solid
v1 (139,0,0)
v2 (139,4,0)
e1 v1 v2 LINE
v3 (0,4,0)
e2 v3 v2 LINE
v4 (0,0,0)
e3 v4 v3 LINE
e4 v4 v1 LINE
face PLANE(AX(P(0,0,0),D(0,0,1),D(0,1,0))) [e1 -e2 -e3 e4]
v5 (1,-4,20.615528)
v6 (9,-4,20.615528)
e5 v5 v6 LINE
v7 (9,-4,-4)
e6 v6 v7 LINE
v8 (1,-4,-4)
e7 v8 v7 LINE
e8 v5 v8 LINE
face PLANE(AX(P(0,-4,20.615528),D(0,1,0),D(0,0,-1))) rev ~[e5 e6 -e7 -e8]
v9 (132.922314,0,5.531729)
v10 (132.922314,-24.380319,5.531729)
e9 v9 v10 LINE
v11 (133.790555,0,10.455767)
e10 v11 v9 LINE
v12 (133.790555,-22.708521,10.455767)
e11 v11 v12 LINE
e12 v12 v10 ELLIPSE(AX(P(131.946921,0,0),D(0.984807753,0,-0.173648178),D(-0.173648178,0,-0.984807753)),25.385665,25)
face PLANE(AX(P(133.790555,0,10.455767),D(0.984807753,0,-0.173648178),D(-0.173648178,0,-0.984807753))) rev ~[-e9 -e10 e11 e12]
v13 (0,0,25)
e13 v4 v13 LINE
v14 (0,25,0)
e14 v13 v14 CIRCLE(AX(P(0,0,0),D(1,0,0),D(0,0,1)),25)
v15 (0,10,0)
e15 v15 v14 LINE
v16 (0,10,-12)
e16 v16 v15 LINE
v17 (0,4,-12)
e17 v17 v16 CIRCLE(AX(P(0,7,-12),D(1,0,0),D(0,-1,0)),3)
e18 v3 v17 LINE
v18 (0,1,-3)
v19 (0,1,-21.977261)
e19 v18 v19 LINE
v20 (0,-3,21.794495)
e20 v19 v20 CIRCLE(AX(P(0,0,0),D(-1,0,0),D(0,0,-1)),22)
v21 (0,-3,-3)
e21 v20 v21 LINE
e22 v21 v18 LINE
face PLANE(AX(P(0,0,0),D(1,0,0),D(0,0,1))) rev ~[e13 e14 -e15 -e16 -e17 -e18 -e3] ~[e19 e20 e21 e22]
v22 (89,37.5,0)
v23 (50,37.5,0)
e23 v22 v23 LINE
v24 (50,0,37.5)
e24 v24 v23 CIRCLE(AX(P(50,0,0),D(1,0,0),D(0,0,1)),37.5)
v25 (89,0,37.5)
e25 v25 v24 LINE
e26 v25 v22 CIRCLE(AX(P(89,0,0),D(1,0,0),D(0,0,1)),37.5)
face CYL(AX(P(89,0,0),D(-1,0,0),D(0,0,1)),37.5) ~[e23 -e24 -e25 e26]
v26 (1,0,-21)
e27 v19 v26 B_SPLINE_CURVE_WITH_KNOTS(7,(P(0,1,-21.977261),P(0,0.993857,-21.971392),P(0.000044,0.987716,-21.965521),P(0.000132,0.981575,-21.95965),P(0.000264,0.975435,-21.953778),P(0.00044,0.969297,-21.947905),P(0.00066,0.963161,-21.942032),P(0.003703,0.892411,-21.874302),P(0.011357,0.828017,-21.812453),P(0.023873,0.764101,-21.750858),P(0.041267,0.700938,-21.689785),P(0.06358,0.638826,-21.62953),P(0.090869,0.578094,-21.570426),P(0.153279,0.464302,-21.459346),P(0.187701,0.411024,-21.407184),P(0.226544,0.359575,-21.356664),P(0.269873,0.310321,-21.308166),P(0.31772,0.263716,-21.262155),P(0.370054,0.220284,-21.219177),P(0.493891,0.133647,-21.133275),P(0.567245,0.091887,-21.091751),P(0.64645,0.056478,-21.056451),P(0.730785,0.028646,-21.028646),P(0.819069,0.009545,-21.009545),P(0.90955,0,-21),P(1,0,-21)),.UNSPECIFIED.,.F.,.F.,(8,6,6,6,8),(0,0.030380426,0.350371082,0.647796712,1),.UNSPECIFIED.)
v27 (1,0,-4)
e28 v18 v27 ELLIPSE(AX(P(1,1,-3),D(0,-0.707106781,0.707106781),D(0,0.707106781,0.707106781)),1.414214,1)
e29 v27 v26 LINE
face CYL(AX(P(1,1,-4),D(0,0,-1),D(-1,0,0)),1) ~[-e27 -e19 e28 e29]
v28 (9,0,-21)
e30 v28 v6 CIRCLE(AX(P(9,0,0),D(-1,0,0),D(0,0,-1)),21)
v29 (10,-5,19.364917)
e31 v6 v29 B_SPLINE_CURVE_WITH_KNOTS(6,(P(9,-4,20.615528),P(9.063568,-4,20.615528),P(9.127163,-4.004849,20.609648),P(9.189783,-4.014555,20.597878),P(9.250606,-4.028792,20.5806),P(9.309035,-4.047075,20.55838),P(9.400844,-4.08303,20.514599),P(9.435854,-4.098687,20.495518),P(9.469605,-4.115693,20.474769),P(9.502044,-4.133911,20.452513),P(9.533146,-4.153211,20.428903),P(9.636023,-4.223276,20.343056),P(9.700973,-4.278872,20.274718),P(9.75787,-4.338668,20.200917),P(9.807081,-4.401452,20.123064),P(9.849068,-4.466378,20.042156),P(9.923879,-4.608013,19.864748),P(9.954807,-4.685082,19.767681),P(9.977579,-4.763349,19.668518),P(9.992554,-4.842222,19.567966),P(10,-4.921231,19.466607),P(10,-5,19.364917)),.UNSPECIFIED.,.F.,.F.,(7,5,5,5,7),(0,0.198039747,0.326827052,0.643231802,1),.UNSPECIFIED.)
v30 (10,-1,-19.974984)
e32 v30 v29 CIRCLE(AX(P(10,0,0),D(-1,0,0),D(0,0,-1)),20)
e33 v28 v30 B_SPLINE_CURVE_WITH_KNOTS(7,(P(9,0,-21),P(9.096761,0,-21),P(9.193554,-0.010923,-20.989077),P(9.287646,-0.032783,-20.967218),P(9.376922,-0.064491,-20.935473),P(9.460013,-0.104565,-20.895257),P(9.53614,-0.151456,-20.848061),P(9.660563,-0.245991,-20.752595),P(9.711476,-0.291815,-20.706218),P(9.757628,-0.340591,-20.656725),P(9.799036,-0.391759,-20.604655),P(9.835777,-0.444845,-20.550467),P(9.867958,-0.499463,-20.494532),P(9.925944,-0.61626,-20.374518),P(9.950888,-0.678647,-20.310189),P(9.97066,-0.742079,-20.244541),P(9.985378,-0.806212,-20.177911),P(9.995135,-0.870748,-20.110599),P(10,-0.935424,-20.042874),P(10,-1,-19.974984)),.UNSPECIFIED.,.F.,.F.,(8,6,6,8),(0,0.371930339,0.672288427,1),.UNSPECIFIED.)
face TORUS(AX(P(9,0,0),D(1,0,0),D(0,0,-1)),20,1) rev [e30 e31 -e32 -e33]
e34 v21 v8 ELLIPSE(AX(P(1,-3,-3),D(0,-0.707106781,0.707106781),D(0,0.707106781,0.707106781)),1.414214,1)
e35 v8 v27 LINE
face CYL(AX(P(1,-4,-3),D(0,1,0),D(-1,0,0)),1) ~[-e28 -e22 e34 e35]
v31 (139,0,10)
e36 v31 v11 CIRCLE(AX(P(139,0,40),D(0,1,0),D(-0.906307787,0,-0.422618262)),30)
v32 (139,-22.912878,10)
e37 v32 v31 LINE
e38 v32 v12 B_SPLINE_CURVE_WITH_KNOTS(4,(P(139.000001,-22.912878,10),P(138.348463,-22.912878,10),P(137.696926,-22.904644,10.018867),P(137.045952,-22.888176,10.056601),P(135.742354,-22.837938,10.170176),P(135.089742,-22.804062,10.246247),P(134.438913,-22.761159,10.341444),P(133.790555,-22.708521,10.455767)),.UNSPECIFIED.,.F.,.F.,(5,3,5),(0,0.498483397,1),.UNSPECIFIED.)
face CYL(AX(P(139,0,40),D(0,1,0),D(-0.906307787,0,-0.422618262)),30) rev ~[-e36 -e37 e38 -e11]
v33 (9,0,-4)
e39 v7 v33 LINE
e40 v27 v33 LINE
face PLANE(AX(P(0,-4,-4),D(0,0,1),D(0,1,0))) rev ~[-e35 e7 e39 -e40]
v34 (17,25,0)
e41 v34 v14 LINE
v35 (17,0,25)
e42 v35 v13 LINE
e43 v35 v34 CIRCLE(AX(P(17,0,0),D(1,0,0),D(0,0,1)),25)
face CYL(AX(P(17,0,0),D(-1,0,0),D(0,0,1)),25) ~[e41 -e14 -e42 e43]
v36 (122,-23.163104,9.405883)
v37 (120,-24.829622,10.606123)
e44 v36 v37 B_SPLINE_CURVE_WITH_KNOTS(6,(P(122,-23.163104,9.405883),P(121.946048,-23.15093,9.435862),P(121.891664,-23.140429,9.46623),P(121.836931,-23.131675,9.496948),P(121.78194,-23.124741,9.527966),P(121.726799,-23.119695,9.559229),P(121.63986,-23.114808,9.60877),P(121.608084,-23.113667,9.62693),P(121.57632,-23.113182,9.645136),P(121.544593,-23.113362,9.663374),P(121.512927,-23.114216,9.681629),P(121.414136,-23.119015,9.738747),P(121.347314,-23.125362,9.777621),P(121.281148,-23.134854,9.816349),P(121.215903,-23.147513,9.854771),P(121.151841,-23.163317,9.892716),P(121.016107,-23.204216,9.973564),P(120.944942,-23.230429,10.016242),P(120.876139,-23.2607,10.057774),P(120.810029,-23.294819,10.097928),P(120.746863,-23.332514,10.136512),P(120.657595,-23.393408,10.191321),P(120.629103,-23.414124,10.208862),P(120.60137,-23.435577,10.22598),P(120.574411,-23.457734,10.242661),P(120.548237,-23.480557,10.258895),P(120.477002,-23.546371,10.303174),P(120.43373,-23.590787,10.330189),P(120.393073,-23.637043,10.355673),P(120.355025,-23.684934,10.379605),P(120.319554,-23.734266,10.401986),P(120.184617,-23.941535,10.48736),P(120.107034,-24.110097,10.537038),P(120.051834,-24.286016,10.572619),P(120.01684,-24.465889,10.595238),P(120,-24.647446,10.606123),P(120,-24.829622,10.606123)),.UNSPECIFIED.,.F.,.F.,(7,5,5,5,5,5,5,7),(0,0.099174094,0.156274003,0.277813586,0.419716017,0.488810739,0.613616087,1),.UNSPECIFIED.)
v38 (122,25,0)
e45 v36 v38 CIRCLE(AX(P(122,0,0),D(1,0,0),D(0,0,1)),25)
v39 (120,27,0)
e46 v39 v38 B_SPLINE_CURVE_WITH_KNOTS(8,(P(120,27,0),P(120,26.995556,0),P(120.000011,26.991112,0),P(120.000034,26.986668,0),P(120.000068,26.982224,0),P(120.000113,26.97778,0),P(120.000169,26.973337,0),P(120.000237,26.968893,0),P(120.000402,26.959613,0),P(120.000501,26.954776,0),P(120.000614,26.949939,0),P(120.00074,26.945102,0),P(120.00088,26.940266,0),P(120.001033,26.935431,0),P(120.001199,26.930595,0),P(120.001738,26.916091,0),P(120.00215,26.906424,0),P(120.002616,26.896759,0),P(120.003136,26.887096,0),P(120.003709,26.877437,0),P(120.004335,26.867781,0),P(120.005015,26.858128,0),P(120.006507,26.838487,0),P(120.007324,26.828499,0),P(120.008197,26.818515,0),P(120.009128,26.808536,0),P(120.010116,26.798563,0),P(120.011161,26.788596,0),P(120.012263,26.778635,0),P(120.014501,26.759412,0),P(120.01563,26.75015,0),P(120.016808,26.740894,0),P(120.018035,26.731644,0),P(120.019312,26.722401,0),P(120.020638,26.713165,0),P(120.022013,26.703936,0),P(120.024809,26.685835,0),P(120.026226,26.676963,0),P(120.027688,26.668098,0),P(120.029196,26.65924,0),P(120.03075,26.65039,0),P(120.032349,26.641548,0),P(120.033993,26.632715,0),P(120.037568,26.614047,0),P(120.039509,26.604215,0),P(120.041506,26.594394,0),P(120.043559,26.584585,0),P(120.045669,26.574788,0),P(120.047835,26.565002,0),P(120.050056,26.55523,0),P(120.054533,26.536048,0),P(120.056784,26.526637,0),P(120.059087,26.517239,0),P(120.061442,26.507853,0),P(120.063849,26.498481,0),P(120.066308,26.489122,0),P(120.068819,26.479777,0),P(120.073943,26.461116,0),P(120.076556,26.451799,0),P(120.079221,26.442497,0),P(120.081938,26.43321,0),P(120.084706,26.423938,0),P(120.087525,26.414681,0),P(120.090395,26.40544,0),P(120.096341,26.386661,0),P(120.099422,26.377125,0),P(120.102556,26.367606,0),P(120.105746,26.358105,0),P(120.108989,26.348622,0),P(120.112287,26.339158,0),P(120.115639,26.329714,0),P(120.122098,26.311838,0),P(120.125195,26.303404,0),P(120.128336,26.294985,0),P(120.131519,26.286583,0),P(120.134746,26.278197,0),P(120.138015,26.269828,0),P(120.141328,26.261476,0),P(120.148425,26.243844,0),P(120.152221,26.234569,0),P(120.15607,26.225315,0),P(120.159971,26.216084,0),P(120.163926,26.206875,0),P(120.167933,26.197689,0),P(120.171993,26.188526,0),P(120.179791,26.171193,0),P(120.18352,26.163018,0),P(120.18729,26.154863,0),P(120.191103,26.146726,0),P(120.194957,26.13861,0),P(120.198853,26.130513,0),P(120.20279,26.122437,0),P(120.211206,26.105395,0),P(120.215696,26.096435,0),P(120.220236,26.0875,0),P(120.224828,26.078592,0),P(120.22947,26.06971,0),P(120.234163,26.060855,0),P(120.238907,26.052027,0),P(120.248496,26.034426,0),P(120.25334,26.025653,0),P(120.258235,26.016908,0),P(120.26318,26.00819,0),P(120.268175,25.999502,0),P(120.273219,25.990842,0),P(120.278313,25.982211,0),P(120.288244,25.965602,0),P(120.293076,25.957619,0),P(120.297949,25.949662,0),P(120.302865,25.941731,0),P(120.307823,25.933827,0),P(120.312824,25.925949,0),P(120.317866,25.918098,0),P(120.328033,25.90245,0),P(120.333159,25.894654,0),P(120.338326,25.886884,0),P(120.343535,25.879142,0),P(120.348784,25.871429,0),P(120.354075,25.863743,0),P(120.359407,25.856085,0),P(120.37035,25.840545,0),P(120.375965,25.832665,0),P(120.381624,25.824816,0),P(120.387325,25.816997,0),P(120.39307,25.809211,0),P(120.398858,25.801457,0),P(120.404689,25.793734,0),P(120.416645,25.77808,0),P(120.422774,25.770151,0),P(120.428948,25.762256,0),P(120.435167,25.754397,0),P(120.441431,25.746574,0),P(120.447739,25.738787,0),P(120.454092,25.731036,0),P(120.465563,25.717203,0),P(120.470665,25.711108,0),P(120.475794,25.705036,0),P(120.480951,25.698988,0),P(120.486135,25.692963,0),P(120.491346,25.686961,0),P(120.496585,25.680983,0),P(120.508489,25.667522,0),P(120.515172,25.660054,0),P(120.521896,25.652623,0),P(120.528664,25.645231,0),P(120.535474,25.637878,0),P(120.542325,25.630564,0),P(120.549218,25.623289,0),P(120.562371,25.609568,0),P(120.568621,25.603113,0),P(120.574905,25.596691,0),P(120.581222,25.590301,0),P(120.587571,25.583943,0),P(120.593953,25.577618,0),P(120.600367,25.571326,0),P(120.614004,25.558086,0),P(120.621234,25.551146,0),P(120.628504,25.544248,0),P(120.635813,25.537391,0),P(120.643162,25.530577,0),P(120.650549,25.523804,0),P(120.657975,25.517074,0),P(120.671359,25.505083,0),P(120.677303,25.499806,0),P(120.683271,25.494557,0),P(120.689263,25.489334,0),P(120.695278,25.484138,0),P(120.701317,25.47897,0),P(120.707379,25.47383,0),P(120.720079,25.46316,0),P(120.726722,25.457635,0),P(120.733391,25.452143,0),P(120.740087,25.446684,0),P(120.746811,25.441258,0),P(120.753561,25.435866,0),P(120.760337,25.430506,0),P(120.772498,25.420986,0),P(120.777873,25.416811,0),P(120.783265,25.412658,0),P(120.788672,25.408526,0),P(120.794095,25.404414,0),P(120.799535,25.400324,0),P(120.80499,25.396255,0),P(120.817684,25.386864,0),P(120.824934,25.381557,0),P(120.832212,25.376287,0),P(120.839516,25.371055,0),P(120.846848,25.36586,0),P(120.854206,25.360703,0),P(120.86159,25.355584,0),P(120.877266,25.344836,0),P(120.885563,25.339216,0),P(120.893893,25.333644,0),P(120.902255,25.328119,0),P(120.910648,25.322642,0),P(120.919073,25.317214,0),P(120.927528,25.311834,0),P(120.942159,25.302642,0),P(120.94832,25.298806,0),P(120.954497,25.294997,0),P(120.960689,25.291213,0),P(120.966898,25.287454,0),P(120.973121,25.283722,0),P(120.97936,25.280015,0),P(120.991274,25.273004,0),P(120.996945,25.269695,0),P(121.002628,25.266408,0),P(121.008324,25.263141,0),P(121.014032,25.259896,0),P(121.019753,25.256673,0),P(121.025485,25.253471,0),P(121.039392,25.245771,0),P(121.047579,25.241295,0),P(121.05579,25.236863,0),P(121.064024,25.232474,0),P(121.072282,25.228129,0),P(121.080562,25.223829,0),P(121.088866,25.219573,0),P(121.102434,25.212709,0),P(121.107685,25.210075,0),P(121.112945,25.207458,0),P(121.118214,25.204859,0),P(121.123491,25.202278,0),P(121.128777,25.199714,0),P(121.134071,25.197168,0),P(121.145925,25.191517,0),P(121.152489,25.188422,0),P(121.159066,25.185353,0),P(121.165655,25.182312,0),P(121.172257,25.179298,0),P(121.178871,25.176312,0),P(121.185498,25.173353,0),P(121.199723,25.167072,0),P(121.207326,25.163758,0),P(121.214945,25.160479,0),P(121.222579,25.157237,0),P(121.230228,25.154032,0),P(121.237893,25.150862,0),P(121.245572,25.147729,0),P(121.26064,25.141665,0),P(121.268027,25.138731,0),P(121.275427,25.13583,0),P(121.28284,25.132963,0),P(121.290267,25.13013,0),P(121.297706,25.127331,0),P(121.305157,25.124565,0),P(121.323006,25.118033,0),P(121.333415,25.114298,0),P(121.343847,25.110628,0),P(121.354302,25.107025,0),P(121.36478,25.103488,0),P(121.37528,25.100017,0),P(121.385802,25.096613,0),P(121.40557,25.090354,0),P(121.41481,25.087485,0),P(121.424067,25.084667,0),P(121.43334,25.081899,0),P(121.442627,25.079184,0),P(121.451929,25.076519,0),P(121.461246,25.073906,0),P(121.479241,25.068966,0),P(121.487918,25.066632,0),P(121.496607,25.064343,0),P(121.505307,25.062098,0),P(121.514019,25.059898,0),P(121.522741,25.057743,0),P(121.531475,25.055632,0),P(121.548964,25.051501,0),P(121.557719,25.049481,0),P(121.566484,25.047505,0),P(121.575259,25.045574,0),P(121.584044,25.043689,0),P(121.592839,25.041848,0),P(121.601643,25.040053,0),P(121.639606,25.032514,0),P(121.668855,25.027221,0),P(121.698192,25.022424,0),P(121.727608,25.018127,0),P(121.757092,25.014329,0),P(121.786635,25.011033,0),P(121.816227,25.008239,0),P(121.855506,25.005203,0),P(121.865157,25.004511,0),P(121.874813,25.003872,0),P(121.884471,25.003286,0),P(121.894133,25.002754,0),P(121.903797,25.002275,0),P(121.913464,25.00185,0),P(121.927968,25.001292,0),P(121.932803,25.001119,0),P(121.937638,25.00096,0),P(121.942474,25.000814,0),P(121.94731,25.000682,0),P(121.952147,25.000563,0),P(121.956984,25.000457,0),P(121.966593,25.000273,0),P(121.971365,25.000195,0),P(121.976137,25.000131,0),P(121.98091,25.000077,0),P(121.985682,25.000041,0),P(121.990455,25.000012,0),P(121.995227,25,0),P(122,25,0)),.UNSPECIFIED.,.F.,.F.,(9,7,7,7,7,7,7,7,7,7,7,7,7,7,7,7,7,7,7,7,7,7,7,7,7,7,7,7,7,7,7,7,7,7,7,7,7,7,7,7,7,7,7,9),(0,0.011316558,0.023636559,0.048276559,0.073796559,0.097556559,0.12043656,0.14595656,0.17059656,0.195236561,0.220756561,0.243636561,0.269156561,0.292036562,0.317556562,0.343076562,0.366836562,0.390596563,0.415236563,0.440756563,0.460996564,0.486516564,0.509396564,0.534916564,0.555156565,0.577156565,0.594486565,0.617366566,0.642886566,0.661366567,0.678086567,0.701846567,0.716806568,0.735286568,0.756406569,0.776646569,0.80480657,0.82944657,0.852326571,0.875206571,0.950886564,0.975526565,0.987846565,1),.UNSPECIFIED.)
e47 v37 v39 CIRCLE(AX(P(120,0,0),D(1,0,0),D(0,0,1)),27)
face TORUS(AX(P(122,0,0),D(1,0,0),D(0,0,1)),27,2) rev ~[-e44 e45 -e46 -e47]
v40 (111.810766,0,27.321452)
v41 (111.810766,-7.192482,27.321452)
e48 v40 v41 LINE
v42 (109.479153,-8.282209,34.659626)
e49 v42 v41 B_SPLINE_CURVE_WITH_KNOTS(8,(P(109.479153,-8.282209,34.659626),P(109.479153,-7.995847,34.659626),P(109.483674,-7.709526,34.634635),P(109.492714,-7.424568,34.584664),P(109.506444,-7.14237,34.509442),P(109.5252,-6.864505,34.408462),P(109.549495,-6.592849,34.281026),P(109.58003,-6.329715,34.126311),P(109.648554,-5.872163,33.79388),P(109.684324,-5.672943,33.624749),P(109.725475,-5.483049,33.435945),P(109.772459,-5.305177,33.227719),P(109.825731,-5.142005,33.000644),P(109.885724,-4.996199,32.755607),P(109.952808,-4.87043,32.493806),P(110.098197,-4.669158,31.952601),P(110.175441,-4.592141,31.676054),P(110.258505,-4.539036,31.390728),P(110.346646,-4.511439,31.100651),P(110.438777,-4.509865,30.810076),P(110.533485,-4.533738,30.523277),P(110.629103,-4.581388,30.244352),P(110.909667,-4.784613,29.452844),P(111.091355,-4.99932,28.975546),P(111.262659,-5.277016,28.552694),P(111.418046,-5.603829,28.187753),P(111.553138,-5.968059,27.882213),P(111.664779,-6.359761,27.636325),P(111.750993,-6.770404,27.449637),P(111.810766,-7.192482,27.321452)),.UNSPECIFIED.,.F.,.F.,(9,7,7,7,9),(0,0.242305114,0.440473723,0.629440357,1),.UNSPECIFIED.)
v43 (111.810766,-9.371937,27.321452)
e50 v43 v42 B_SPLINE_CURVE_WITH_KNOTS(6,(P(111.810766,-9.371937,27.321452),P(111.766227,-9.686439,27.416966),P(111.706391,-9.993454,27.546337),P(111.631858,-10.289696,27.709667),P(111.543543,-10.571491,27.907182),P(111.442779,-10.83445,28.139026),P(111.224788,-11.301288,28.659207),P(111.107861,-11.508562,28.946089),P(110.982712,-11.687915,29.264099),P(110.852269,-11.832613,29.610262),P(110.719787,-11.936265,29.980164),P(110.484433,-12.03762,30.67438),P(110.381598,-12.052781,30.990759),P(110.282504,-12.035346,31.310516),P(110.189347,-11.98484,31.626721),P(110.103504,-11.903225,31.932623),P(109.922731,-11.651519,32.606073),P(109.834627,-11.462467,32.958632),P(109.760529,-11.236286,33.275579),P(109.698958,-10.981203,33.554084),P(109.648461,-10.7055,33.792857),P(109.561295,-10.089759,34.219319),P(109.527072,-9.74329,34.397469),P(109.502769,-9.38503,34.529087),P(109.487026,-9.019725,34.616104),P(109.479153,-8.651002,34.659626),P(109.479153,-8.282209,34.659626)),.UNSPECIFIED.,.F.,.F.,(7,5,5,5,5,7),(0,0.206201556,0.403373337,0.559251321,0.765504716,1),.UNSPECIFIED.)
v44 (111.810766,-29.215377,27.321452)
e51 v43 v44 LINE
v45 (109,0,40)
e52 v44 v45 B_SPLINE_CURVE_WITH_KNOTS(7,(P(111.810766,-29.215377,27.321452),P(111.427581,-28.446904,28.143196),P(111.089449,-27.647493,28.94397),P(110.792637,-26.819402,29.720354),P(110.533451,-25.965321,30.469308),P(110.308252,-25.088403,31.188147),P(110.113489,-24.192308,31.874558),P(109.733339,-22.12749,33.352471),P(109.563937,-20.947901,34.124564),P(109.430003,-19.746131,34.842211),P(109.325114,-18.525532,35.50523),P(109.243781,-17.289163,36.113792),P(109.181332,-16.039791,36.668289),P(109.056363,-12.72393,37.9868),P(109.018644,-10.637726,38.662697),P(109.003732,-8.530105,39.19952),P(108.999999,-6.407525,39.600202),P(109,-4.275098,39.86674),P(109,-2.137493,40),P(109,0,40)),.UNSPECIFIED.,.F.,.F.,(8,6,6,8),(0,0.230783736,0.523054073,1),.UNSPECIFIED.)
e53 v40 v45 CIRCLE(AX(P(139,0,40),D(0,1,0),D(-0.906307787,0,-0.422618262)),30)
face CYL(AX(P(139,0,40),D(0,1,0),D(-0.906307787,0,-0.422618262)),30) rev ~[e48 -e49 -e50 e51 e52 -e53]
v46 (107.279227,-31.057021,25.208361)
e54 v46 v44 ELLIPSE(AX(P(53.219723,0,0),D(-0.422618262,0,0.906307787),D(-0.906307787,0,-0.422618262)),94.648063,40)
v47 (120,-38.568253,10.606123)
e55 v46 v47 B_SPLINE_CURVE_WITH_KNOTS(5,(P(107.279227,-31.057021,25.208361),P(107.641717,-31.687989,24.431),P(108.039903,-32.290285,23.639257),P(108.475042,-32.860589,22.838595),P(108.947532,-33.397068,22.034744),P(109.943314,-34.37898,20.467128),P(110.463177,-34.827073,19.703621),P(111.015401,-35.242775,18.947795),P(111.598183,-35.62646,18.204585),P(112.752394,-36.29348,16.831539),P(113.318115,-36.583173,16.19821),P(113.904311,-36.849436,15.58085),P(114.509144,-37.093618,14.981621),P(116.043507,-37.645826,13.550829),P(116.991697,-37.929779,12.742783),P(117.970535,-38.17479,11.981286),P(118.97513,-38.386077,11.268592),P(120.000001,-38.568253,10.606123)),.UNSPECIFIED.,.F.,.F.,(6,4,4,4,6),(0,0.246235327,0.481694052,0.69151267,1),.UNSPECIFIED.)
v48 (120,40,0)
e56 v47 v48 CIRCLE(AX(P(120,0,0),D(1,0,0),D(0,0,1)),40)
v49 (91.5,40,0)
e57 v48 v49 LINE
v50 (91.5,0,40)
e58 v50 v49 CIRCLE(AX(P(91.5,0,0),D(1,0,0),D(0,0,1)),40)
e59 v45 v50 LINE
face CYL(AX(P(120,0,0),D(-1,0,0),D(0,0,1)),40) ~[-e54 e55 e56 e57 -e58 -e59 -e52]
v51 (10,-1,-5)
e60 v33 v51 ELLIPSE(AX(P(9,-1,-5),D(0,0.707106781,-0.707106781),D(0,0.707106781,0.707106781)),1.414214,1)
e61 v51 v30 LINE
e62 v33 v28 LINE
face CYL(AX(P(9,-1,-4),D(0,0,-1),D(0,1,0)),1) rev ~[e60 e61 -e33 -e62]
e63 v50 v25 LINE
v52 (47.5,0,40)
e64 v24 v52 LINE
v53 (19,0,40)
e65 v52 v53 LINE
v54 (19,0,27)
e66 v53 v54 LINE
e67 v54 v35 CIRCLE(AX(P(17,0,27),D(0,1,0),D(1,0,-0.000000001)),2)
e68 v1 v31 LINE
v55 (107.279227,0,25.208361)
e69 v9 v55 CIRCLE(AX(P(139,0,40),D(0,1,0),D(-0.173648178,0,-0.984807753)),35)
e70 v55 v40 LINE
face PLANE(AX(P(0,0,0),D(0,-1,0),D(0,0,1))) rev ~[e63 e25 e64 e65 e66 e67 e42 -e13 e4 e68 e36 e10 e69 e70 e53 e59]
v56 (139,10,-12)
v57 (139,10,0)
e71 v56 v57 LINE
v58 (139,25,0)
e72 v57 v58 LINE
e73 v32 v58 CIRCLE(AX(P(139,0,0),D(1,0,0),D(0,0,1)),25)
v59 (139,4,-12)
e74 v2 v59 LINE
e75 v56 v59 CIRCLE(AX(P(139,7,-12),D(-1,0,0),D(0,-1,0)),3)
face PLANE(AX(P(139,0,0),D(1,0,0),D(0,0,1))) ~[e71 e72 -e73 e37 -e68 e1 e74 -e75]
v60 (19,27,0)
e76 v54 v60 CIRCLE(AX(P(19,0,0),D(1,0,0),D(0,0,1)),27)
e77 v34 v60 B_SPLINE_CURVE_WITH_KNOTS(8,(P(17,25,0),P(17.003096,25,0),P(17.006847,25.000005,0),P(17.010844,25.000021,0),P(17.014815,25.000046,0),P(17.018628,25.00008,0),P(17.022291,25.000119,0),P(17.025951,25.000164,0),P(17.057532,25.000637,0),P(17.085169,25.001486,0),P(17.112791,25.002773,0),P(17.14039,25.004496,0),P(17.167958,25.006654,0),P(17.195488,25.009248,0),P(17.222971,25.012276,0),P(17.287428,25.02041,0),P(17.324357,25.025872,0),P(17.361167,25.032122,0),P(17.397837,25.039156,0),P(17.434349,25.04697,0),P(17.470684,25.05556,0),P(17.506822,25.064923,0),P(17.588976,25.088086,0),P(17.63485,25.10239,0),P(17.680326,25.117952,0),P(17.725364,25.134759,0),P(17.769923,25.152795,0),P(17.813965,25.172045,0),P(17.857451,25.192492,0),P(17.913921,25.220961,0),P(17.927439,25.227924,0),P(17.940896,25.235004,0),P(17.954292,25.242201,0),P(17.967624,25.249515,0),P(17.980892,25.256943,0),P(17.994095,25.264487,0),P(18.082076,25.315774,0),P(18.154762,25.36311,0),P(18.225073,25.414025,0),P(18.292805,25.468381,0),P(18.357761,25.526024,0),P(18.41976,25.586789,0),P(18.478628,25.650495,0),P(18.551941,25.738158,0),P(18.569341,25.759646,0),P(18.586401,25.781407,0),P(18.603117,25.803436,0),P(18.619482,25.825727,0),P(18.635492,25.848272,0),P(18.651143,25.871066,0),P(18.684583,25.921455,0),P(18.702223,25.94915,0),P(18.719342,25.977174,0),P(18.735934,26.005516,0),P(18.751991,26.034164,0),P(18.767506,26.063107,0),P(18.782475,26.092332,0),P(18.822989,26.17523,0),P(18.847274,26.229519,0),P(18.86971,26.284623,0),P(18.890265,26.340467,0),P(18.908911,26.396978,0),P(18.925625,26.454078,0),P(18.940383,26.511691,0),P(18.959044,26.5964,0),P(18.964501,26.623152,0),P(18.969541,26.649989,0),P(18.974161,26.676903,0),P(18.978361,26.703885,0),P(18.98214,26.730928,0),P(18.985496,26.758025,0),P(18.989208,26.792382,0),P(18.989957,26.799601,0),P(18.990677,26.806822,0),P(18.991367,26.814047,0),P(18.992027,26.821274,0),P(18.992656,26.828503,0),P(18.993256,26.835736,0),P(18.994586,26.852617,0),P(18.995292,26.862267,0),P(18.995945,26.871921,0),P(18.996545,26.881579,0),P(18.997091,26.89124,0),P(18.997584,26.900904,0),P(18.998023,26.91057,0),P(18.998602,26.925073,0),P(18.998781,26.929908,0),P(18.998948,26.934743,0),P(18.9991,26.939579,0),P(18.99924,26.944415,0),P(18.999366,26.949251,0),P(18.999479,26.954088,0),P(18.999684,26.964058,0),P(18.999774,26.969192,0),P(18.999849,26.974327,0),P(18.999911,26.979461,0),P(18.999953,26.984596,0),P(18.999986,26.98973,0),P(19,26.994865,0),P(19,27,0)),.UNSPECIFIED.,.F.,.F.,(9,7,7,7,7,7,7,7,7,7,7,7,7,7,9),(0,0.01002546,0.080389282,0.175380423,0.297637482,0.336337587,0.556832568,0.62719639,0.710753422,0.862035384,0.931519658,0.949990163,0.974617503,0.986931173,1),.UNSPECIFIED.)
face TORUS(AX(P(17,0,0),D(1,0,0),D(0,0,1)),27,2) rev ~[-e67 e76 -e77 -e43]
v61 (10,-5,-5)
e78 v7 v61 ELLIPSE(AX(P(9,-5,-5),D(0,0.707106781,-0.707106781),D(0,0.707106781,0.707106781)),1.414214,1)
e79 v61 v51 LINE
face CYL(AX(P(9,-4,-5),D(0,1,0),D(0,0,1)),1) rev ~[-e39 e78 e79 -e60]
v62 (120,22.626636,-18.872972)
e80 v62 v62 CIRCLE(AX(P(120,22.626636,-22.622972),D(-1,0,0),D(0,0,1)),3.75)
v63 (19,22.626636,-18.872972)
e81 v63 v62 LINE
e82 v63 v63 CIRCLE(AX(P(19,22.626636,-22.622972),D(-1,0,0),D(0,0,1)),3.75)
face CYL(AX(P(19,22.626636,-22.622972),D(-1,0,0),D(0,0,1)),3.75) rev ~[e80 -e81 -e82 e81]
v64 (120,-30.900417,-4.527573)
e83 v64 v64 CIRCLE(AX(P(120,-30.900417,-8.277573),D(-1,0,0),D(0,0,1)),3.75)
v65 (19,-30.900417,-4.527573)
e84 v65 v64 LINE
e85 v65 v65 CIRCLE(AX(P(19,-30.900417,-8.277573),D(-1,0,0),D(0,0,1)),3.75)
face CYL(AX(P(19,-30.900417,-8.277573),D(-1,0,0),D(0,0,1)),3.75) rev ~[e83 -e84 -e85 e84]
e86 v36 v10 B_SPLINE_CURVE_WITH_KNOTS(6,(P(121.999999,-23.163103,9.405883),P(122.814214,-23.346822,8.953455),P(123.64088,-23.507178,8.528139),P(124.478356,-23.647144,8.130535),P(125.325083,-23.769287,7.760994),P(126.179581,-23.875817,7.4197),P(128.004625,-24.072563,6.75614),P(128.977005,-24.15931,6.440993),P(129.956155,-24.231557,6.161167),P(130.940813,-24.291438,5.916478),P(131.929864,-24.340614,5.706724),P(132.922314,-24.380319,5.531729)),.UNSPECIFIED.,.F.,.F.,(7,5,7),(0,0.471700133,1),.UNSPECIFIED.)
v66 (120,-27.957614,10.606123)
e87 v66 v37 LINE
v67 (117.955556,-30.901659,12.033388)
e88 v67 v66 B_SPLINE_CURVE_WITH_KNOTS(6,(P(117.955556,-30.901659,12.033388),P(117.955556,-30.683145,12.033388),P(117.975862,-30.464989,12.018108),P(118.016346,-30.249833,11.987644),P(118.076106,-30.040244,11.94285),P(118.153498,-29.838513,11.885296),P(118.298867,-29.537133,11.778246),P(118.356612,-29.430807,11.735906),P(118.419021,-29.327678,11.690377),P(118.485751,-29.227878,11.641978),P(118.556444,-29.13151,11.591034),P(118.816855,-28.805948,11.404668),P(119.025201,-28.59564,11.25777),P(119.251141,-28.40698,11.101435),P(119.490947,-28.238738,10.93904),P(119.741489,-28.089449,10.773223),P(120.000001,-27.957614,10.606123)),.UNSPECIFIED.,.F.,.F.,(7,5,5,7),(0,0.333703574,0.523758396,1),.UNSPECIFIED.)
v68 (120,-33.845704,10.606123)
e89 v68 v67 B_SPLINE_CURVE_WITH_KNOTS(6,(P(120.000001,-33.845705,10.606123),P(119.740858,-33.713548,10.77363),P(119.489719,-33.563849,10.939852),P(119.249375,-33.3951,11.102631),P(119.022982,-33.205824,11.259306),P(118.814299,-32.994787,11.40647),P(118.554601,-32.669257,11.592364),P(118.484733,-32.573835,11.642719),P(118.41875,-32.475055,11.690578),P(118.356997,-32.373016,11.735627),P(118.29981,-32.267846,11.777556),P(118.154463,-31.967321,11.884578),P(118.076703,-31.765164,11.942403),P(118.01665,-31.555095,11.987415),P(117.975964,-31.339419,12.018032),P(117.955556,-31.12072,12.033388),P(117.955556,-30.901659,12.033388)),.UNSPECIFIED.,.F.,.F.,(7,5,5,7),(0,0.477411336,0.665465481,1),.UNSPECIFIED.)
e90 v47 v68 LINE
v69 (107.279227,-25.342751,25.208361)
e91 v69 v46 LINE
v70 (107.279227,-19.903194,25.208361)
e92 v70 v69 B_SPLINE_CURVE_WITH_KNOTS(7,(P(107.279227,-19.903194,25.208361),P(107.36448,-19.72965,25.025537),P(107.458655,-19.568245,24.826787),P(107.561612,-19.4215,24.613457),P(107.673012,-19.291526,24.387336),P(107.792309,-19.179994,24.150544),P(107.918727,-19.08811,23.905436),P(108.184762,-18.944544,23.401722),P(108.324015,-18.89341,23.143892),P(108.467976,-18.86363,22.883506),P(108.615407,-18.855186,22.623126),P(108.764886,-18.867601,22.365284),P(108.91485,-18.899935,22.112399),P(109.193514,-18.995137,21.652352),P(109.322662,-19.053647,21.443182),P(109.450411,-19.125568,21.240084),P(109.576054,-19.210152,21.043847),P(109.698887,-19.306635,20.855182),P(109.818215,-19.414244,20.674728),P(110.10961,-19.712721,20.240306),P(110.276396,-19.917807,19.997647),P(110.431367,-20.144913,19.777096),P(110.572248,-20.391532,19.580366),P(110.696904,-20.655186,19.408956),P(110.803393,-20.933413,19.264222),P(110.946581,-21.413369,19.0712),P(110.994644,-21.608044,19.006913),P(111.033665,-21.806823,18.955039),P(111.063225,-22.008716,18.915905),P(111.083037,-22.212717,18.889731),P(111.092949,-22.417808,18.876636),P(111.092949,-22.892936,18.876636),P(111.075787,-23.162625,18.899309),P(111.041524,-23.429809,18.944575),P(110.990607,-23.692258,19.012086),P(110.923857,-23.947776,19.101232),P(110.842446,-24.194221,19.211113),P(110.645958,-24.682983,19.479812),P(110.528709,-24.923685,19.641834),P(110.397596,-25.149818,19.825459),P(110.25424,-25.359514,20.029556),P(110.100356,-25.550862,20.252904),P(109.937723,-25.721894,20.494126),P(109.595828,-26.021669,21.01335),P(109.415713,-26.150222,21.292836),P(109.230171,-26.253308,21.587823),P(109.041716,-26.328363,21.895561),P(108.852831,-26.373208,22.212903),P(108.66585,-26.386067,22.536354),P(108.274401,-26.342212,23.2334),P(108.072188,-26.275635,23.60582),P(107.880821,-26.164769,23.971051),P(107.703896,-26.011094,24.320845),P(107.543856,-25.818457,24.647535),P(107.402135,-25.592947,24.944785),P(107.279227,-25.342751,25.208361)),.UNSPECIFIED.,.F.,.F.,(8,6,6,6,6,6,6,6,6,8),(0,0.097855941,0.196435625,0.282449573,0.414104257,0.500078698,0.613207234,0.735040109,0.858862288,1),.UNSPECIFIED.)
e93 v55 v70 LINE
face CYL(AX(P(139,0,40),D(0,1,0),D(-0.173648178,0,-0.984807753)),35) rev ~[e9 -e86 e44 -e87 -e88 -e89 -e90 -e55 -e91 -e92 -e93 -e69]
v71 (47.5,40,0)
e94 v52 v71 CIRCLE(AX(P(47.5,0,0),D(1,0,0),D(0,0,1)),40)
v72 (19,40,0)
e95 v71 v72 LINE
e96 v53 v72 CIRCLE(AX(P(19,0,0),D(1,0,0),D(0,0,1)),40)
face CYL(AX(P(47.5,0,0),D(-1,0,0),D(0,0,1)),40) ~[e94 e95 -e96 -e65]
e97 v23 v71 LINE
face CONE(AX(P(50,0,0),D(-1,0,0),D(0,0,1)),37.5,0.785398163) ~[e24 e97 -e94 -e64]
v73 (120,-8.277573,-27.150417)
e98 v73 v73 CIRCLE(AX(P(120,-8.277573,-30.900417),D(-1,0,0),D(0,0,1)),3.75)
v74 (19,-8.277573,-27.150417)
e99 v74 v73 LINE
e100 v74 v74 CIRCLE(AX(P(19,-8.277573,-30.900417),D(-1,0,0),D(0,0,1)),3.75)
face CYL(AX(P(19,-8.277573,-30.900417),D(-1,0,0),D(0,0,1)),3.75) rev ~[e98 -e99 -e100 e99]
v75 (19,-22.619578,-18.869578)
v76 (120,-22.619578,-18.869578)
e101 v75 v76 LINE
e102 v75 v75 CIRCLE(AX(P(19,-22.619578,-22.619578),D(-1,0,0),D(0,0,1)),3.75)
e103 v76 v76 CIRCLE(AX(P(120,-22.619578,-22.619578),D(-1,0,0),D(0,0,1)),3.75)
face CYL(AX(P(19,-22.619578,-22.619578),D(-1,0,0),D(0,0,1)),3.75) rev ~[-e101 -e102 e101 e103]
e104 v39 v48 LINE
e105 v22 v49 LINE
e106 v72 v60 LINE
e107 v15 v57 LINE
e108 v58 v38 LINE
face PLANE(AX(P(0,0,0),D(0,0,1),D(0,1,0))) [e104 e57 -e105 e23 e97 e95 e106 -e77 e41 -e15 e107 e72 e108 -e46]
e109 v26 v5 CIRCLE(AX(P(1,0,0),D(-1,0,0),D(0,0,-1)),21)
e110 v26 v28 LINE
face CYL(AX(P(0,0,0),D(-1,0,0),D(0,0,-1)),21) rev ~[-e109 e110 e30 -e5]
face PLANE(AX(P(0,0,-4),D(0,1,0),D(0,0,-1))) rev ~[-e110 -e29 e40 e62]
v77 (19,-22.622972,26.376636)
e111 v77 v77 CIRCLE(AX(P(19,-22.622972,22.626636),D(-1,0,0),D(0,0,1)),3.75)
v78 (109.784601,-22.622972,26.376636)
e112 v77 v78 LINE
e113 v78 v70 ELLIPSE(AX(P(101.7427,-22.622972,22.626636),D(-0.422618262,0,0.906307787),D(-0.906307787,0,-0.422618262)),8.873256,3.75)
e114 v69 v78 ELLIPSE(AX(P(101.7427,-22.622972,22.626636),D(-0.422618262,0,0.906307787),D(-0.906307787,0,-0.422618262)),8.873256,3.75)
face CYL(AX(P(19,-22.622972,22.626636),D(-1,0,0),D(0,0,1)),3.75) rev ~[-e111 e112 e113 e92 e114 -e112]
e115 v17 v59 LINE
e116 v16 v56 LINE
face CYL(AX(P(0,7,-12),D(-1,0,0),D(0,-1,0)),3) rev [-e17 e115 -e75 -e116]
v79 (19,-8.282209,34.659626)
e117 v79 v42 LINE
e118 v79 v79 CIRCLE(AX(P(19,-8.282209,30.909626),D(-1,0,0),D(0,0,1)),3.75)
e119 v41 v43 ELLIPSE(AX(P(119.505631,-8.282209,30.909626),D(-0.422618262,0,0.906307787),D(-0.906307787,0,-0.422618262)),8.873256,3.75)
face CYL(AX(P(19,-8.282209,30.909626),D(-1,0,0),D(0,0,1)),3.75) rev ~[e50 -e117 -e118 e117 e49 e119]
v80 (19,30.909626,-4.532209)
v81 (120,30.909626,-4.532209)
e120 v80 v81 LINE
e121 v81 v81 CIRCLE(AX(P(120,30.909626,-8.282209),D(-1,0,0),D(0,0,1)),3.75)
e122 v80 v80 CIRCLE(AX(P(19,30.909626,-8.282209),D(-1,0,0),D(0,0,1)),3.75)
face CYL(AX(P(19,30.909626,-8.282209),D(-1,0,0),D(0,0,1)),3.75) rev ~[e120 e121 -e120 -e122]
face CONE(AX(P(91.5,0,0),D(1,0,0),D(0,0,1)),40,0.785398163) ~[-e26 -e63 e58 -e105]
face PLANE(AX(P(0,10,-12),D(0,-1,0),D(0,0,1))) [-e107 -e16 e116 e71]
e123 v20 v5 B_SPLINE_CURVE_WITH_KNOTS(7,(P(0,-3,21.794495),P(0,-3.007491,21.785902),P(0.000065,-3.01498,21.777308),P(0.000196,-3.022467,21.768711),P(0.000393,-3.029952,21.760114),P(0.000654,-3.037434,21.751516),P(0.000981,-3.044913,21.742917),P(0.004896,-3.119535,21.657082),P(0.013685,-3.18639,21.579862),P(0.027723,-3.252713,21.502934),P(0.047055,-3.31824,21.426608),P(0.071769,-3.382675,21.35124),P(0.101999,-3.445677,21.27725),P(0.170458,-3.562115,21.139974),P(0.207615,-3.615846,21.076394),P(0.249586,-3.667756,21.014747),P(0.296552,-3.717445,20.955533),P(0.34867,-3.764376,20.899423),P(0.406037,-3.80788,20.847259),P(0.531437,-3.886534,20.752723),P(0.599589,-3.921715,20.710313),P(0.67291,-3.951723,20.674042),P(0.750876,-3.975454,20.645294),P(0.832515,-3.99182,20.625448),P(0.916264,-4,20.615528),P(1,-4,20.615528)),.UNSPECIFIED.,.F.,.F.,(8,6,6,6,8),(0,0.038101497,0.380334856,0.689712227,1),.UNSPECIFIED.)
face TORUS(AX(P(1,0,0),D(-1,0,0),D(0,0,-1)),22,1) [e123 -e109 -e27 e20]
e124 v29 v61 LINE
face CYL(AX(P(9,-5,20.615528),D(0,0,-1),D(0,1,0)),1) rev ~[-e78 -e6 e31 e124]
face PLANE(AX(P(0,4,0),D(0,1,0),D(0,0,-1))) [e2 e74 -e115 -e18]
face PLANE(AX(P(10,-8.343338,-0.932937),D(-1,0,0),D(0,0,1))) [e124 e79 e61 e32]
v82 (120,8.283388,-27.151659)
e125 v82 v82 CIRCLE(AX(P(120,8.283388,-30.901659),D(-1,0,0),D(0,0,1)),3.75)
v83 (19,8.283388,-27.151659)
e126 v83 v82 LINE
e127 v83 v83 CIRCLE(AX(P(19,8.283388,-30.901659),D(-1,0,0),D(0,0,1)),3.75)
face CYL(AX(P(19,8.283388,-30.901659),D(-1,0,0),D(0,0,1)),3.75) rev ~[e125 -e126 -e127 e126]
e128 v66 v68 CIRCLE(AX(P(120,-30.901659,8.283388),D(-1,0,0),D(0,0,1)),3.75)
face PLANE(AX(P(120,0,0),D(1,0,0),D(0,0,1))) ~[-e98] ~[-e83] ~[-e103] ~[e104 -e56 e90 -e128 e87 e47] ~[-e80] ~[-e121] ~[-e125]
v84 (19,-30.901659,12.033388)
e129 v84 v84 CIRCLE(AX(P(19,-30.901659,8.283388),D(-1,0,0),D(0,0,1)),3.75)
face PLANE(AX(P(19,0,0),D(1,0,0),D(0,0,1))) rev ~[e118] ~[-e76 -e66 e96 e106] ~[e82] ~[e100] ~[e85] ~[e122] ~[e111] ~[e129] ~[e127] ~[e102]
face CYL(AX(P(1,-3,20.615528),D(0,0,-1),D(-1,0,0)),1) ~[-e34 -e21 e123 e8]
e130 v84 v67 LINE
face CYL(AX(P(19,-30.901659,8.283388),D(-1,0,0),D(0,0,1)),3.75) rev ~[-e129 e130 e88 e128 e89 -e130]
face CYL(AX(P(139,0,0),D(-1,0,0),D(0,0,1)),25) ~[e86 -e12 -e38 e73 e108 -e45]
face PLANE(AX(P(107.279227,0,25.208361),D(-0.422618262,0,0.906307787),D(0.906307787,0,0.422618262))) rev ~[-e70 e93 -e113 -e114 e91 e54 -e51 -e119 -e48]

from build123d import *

# Parameters (mm, degrees)
SKETCH2_W          = 44.887778639
SKETCH2_H          = 40.820436252
CUT_EXTRUDE1_DEPTH = 151.069983674
CUT_EXTRUDE2_DEPTH = 151.069983674
SKETCH5_R          = 3.75
CUT_EXTRUDE3_DEPTH = 133.664991614
CUT_EXTRUDE4_DEPTH = 151.069983674
CUT_EXTRUDE5_DEPTH = 10
FILLET1_R          = 1


with BuildPart() as part:
    # Sketch1 → Revolve1 (revolve)
    with BuildSketch(Plane.XY, mode=Mode.PRIVATE) as revolve1_sk:
        with BuildLine():
            Line((0, 0), (139, 0))
            Line((139, 0), (139, 25))
            Line((139, 25), (122, 25))
            ThreePointArc((122, 25), (120.585786438, 25.585786438), (120, 27))
            Line((120, 27), (120, 40))
            Line((120, 40), (91.5, 40))
            Line((91.5, 40), (89, 37.5))
            Line((89, 37.5), (50, 37.5))
            Line((50, 37.5), (47.5, 40))
            Line((47.5, 40), (19, 40))
            Line((19, 40), (19, 27))
            ThreePointArc((19, 27), (18.414213562, 25.585786438), (17, 25))
            Line((17, 25), (0, 25))
            Line((0, 25), (0, 0))
        make_face()
    revolve(revolve1_sk.sketch.rotate(Axis((0, 0, 0), (1, 0, 0)), 90), axis=Axis((0, 0, 0), (1, 0, 0)))

    # Sketch2 → Cut-Extrude1 (cut, through all)
    with BuildSketch(Plane.ZY):
        with Locations((22.44388932, 20.410218126)):
            Rectangle(SKETCH2_W, SKETCH2_H)
    extrude(amount=-CUT_EXTRUDE1_DEPTH, mode=Mode.SUBTRACT)

    # Sketch4 → Cut-Extrude2 (cut, through all)
    with BuildSketch(Plane.ZY):
        with BuildLine():
            Line((0, 4), (-12, 4))
            ThreePointArc((-12, 4), (-15, 7), (-12, 10))
            Line((-12, 10), (0, 10))
            ThreePointArc((0, 10), (3, 7), (0, 4))
        make_face()
    extrude(amount=-CUT_EXTRUDE2_DEPTH, mode=Mode.SUBTRACT)

    # Sketch5 → Cut-Extrude3 (cut, through all)
    with BuildSketch(Plane.ZY.offset(-19)):
        with Locations((-8.282209443, 30.909626441)):
            Circle(SKETCH5_R)
        with Locations((-22.62297233, 22.626635765)):
            Circle(SKETCH5_R)
        with Locations((-30.901659317, 8.283387998)):
            Circle(SKETCH5_R)
        with Locations((-30.90041693, -8.277572517)):
            Circle(SKETCH5_R)
        with Locations((-22.619578006, -22.619578006)):
            Circle(SKETCH5_R)
        with Locations((-8.277572517, -30.90041693)):
            Circle(SKETCH5_R)
        with Locations((8.283387998, -30.901659317)):
            Circle(SKETCH5_R)
        with Locations((22.626635765, -22.62297233)):
            Circle(SKETCH5_R)
        with Locations((30.909626441, -8.282209443)):
            Circle(SKETCH5_R)
    extrude(amount=-CUT_EXTRUDE3_DEPTH, mode=Mode.SUBTRACT)

    # Sketch6 → Cut-Extrude4 (cut, through all)
    with BuildSketch(Plane(origin=(0, 0, 0), x_dir=(1, 0, 0), z_dir=(0, 1, 0))):
        with BuildLine():
            Line((107.279227454, -25.208360839), (111.810766389, -27.321452148))
            ThreePointArc((111.810766389, -27.321452148), (157.26284287, -63.800600209), (133.79055467, -10.45576741))
            Line((133.79055467, -10.45576741), (132.922313782, -5.531728645))
            ThreePointArc((132.922313782, -5.531728645), (117.693349985, -12.23263309), (107.279227454, -25.208360839))
        make_face()
    extrude(amount=-CUT_EXTRUDE4_DEPTH, mode=Mode.SUBTRACT)

    # Sketch7 → Cut-Extrude5 (cut)
    with BuildSketch(Plane.ZY):
        with BuildLine():
            Line((-4, 0), (-21, 0))
            ThreePointArc((-21, 0), (-2.009217424, -20.903661051), (20.615528128, -4))
            Line((20.615528128, -4), (-4, -4))
            Line((-4, -4), (-4, 0))
        make_face()
    extrude(amount=-CUT_EXTRUDE5_DEPTH, mode=Mode.SUBTRACT)

    # Fillet1
    fillet1_edges = [part.edges().sort_by_distance(p)[0] for p in [
        (10, -2, -4),
        (10, -4, 8.307764064),
        (10, -20.903661051, -2.009217424),
        (10, 0, -12.5),
        (0, -2, -4),
        (0, 0, -12.5),
        (0, -20.903661051, -2.009217424),
        (0, -4, 8.307764064),
    ]]
    fillet(fillet1_edges, radius=FILLET1_R)


solid = part.part
